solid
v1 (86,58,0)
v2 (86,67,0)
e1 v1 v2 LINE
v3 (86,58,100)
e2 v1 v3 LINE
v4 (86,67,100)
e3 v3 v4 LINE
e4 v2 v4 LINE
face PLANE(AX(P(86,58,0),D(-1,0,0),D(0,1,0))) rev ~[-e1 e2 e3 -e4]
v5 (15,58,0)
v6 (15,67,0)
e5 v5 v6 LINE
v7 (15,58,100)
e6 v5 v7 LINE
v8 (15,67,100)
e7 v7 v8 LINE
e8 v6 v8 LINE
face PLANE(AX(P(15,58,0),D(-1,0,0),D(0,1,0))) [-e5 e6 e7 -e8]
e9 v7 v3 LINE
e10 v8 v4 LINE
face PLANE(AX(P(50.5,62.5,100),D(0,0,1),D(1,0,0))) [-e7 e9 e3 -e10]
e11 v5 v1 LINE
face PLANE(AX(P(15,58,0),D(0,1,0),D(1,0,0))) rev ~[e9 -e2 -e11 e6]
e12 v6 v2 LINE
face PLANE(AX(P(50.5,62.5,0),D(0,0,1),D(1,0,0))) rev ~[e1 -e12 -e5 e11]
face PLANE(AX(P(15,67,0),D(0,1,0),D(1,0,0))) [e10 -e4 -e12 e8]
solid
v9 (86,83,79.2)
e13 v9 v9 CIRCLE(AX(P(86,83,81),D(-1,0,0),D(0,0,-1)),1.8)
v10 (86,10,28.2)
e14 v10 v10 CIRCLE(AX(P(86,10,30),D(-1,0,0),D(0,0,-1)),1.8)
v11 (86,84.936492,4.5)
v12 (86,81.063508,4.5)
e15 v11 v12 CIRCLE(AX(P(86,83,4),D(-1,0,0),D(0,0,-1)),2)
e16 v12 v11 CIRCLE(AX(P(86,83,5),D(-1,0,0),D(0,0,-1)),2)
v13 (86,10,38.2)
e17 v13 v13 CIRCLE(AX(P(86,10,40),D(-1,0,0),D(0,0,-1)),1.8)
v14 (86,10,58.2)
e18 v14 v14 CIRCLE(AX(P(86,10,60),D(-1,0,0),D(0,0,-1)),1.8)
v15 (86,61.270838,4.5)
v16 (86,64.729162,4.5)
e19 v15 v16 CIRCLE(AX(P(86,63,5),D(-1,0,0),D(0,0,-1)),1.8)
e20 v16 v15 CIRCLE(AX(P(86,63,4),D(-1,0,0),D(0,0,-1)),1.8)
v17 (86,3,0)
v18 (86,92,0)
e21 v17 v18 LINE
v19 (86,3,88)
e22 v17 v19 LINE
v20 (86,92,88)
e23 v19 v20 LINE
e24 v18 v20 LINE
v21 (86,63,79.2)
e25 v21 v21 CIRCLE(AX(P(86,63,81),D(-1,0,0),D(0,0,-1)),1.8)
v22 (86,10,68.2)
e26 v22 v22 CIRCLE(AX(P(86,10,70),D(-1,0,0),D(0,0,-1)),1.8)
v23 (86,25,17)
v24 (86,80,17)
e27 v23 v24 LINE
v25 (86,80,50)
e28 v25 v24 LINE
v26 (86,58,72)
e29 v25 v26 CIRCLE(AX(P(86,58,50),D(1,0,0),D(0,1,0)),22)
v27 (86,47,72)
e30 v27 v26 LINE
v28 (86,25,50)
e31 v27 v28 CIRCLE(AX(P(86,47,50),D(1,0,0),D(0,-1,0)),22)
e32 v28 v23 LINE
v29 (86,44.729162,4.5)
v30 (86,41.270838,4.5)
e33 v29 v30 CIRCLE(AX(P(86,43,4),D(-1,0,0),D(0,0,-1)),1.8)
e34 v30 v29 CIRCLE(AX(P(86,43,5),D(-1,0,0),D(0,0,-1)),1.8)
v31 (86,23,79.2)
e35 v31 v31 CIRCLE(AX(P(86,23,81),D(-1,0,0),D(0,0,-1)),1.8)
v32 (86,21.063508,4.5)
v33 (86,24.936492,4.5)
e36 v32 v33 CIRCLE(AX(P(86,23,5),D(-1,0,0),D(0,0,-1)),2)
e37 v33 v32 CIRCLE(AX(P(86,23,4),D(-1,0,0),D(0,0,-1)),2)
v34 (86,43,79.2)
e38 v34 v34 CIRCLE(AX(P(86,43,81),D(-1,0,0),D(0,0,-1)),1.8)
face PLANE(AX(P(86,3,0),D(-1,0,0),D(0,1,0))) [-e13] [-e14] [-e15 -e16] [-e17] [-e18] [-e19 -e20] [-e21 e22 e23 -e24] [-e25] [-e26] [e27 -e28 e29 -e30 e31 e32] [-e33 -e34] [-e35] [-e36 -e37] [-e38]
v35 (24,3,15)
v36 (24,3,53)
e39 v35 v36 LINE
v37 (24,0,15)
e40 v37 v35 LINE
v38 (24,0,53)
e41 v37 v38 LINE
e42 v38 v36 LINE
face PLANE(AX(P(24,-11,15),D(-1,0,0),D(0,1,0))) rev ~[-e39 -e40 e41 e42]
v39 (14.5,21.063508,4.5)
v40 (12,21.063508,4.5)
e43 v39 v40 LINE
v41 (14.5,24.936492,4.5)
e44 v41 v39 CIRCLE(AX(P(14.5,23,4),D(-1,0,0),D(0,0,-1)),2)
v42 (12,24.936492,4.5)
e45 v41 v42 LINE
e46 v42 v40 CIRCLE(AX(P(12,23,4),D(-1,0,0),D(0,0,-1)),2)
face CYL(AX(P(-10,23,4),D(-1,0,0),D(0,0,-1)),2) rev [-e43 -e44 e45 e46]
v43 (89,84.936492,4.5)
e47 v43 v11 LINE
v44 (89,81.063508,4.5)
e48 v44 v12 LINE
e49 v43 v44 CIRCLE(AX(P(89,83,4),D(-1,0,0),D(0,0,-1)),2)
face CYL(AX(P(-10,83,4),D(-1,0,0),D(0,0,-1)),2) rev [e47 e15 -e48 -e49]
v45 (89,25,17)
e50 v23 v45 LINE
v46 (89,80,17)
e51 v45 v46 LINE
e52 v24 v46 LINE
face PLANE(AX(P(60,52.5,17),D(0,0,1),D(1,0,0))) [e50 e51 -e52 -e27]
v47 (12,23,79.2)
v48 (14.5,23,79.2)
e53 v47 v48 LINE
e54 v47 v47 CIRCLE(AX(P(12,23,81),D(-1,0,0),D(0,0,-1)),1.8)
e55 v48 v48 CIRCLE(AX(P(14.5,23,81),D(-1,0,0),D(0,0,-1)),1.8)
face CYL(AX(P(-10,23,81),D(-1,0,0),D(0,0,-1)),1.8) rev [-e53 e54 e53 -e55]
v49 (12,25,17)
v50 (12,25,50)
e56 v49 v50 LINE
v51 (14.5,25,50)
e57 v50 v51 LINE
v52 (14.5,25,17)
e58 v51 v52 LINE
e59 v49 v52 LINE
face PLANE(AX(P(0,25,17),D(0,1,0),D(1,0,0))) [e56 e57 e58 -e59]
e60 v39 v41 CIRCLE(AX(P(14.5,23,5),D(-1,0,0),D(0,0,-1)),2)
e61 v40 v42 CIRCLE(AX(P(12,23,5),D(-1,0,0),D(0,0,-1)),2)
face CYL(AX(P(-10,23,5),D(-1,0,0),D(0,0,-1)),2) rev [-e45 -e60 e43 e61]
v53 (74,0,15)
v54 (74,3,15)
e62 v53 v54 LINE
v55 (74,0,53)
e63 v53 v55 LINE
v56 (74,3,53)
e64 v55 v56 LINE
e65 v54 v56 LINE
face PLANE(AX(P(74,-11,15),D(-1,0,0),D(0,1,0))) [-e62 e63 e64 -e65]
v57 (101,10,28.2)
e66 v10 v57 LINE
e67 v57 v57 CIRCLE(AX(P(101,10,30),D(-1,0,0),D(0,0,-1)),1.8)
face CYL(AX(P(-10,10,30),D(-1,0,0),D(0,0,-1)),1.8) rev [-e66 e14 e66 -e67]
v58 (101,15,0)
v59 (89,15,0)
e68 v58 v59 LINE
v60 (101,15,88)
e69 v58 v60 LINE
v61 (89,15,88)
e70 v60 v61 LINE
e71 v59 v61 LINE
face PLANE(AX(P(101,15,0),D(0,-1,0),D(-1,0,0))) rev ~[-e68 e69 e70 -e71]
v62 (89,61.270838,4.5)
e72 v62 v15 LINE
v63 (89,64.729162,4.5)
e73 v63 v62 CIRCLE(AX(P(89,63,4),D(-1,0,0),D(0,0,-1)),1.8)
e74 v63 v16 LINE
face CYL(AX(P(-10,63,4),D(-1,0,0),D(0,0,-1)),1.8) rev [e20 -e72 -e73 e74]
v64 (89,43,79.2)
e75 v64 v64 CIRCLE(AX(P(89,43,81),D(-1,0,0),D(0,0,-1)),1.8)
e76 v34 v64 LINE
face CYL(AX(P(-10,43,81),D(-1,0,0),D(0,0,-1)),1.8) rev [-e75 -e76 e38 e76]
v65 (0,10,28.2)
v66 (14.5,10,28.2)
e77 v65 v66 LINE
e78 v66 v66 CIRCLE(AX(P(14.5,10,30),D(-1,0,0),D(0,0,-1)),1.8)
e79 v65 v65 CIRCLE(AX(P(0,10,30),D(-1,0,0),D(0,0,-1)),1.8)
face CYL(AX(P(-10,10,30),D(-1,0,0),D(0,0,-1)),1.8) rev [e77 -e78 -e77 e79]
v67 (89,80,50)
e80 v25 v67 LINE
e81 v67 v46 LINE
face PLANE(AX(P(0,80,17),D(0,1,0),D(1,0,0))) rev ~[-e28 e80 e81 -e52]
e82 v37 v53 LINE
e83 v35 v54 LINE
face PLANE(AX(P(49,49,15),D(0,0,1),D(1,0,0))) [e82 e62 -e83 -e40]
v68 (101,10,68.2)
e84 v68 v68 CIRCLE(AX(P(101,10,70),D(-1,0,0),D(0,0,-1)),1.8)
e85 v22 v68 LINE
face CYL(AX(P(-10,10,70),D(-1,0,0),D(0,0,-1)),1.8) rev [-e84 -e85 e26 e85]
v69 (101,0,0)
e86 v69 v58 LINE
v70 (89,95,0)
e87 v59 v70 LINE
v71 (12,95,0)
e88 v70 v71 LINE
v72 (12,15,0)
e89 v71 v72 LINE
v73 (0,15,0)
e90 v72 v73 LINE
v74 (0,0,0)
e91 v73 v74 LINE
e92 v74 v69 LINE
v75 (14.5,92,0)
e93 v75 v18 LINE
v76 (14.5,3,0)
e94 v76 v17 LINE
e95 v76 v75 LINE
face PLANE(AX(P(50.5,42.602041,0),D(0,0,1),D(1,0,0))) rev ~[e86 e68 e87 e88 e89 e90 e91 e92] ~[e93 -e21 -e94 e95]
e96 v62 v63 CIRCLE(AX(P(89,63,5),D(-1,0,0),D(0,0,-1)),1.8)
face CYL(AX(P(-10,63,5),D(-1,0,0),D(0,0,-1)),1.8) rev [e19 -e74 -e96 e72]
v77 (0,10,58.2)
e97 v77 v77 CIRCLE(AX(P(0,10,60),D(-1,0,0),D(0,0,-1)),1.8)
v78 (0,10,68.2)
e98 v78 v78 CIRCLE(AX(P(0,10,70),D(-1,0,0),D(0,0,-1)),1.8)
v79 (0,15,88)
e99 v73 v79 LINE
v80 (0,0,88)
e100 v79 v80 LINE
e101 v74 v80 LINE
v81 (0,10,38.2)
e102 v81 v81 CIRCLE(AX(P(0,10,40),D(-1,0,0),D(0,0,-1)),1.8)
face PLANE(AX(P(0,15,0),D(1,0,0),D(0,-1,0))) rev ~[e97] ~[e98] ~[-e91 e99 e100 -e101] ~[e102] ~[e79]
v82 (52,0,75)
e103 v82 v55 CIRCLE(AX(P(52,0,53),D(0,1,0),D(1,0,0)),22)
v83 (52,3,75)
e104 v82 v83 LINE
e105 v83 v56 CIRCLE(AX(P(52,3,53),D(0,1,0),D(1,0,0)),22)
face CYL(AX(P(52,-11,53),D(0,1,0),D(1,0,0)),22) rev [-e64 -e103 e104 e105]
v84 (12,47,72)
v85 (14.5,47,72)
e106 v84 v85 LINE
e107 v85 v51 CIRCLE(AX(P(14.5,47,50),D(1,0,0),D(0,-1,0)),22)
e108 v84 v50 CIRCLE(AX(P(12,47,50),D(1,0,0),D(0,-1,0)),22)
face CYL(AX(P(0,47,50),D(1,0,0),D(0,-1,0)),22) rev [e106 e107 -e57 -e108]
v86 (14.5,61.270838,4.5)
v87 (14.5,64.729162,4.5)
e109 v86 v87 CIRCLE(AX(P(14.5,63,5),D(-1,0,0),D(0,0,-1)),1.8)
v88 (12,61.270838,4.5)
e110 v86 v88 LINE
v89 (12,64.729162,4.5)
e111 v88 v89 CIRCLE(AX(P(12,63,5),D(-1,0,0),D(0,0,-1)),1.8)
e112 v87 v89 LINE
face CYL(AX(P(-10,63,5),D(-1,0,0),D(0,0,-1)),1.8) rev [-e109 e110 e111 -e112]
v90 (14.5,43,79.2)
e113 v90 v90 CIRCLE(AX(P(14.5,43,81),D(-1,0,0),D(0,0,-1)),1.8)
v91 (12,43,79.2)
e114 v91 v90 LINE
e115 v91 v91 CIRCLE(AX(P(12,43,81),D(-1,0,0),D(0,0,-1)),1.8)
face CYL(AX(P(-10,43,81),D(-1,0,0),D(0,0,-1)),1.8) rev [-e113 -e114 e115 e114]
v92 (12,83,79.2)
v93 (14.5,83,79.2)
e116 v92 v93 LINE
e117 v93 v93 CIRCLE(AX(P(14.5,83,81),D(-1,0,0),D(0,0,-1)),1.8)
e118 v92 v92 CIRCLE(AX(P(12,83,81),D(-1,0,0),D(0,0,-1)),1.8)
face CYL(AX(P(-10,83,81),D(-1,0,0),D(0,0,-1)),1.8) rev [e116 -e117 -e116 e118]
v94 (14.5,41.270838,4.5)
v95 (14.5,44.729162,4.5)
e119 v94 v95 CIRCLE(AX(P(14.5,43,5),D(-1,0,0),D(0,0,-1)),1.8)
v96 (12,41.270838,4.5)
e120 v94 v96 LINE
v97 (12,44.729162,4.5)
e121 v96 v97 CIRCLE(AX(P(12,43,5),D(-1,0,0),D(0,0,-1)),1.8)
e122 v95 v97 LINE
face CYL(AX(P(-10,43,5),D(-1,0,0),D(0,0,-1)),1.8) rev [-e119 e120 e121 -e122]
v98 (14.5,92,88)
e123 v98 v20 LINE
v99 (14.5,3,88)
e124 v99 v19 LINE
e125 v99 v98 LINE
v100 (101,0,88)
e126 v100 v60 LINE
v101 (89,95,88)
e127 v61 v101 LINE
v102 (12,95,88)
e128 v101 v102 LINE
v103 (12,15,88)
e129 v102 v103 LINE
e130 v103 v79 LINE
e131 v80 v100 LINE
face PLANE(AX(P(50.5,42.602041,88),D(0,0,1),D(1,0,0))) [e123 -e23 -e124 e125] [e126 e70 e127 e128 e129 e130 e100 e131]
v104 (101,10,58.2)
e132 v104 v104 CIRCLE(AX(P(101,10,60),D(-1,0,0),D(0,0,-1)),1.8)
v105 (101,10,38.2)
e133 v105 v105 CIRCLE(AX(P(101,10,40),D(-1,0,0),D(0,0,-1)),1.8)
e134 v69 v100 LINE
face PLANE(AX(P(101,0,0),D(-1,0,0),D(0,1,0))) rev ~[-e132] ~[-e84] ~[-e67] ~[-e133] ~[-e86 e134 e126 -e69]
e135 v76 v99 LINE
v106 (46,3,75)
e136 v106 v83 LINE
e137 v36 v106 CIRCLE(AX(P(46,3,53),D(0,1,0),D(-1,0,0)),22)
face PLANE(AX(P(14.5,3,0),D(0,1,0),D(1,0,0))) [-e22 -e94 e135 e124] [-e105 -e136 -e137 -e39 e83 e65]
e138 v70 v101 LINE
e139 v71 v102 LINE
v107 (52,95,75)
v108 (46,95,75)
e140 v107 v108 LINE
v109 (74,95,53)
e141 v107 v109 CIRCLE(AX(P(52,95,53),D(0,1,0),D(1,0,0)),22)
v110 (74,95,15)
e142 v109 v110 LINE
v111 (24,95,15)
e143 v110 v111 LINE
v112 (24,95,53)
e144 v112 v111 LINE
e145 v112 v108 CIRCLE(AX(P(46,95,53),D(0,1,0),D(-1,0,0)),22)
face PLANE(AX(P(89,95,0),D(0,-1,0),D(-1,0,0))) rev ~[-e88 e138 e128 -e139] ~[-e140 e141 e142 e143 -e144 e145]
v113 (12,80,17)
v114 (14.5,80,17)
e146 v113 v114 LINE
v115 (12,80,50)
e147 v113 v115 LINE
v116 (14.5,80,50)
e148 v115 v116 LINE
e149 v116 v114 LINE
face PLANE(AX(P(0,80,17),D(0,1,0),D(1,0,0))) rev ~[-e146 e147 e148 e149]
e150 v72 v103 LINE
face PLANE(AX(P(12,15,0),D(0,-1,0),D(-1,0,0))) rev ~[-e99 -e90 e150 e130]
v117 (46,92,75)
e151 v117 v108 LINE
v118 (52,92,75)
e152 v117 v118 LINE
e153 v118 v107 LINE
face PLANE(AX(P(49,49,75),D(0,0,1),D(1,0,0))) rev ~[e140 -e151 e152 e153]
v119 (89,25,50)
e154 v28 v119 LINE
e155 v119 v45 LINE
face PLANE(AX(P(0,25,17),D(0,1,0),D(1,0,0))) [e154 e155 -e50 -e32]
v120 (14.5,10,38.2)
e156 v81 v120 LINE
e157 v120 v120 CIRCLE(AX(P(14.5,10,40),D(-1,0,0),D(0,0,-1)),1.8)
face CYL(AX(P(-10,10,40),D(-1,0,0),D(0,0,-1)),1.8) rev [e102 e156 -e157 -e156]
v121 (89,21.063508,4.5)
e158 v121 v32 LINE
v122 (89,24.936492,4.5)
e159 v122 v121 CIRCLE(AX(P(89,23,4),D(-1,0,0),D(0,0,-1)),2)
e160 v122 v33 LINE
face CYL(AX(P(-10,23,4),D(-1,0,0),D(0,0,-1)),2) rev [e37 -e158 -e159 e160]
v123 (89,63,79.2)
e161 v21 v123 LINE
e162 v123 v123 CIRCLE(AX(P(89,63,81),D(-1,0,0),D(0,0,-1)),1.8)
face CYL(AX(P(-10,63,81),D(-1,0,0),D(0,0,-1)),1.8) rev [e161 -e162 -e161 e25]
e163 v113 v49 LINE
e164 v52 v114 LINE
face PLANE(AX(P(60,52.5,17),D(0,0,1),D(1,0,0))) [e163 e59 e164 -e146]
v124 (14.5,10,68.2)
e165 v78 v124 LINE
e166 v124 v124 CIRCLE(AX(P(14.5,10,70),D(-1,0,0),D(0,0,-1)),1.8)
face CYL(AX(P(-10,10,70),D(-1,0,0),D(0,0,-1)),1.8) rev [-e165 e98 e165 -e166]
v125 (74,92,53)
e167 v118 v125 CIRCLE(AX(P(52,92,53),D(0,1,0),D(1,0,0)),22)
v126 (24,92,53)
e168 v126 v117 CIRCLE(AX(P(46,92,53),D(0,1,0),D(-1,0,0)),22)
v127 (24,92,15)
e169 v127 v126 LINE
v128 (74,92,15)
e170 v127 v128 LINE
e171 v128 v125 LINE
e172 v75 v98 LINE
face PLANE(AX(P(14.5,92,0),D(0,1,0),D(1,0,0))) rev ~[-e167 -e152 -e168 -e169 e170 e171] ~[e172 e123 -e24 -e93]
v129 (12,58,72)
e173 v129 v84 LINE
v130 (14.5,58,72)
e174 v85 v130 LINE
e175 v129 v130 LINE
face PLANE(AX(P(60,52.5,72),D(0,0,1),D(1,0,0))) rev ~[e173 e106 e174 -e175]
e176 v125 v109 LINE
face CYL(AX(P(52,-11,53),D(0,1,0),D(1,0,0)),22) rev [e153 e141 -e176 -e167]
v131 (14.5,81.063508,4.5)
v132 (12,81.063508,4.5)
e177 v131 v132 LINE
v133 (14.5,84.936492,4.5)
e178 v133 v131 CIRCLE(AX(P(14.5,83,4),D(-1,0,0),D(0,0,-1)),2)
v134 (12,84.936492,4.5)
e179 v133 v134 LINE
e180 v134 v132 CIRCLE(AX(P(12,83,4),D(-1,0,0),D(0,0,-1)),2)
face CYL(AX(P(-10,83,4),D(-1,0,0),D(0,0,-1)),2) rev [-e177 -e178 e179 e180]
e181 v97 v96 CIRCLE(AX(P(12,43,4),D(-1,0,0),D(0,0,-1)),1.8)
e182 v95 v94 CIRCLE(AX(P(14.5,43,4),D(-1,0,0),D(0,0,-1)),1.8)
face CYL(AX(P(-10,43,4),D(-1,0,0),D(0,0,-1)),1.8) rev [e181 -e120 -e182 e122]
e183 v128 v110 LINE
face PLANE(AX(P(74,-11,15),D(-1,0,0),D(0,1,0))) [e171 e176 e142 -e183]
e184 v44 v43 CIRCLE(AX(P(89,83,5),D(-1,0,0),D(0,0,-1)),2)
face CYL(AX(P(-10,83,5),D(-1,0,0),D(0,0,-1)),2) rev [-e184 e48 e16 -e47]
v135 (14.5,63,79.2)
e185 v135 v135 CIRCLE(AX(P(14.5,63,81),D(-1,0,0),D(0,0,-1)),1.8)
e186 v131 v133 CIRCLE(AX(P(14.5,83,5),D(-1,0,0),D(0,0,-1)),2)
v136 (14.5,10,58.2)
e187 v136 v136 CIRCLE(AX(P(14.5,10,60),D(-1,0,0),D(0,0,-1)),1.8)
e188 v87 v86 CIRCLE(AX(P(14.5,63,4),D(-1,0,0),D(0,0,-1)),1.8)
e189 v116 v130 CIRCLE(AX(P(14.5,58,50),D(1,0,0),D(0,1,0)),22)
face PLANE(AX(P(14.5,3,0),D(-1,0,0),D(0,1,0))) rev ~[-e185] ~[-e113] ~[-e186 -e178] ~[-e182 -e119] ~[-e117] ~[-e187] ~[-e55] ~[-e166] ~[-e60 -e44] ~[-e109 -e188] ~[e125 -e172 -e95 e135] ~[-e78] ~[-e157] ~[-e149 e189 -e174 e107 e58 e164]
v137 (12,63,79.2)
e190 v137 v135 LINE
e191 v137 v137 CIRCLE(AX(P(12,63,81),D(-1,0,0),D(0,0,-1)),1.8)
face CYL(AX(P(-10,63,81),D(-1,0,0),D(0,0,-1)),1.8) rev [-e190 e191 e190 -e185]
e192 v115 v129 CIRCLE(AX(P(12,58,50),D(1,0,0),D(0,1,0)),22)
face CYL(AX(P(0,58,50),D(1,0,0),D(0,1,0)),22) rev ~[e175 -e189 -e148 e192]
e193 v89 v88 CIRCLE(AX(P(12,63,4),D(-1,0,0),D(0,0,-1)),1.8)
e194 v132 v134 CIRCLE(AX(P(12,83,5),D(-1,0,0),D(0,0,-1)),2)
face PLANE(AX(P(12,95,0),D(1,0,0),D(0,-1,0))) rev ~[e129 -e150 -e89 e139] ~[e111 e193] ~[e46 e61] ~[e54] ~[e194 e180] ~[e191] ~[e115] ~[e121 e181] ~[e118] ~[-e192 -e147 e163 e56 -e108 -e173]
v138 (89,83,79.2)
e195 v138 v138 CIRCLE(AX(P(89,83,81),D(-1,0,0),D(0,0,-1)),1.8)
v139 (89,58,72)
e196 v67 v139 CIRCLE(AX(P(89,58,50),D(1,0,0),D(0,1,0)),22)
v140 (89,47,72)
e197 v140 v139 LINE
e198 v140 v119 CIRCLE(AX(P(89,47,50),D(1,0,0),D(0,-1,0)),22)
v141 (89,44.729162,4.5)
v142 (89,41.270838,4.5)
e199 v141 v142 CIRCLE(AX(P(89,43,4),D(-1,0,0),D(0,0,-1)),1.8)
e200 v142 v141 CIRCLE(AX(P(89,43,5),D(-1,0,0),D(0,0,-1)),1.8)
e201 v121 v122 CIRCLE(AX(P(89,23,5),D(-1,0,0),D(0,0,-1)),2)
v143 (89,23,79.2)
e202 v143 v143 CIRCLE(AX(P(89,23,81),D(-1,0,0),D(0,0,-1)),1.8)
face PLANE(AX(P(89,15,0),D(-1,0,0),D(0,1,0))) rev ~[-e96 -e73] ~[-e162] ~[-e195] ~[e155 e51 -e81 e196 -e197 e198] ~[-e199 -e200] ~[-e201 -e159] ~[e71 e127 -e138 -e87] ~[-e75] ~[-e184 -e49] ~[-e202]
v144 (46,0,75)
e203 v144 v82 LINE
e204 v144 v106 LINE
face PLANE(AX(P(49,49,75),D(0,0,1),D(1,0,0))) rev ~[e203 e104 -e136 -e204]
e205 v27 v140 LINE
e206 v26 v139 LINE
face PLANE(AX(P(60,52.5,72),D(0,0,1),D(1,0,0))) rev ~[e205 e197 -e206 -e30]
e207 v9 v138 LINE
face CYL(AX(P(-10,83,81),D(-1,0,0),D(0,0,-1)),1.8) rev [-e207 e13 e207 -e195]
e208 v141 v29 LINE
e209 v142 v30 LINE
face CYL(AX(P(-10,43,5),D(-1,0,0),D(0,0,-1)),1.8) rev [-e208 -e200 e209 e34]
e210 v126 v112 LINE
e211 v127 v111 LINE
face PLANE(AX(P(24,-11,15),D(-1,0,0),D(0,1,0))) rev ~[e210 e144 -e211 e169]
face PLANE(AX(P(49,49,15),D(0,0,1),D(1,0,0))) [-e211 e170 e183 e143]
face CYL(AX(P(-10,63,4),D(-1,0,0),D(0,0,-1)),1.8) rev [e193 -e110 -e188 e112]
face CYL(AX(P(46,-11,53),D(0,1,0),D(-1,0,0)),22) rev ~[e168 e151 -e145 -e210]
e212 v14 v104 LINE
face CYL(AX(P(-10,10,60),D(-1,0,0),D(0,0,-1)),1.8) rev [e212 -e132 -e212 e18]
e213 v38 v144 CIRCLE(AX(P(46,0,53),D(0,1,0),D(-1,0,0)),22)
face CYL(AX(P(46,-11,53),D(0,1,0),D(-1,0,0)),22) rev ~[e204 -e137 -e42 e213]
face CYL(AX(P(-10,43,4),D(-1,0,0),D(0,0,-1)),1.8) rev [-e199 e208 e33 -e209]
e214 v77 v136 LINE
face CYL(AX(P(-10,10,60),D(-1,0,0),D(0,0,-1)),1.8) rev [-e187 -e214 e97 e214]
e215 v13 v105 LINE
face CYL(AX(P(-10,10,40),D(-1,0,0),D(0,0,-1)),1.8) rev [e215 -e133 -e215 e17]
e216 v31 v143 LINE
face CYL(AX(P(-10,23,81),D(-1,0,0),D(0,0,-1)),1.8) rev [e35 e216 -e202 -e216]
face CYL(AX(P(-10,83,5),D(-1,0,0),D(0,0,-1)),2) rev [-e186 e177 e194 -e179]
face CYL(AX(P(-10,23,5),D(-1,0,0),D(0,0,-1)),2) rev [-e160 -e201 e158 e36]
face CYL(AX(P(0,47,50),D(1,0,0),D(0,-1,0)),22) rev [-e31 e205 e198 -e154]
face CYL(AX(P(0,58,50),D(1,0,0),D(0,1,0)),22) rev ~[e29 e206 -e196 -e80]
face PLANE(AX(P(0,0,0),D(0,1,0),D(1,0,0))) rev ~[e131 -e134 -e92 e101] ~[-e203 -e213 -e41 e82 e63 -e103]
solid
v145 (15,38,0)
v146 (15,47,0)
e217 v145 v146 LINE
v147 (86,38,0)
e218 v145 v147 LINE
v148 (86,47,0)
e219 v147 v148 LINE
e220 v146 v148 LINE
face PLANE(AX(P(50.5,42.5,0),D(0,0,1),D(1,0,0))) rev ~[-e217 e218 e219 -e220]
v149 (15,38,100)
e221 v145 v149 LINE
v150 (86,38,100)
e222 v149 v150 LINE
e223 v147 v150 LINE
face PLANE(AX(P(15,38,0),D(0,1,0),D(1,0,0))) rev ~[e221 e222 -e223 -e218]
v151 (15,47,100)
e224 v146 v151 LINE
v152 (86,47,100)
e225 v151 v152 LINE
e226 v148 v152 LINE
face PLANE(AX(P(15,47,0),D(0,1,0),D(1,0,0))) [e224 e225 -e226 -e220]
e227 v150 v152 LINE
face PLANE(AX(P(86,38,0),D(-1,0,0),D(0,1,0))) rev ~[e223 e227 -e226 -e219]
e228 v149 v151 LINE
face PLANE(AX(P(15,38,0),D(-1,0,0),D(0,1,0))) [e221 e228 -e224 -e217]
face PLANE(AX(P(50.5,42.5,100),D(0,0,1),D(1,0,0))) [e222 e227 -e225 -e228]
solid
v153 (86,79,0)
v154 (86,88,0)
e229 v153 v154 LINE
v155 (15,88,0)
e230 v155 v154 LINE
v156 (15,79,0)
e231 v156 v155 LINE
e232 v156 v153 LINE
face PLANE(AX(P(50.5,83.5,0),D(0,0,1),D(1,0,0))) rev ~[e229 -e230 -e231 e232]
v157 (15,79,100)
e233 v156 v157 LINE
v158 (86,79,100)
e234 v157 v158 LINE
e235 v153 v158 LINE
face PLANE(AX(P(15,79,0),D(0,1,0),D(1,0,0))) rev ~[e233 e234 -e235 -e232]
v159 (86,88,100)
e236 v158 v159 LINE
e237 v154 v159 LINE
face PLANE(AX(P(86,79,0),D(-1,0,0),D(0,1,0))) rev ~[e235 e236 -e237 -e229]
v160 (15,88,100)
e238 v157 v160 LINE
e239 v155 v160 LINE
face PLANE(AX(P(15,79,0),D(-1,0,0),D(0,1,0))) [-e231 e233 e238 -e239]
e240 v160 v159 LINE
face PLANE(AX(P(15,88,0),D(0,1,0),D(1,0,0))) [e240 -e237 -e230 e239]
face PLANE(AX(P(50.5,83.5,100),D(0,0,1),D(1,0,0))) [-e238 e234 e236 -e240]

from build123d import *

# Parameters (mm, degrees)
BOX_W             = 71
BOX_H             = 9
BOX_DEPTH         = 100
BOX001_W          = 71
BOX001_H          = 9
BOX001_DEPTH      = 100
BOX002_W          = 71
BOX002_H          = 9
BOX002_DEPTH      = 100
CYLINDER009_R     = 1.8
CYLINDER009_DEPTH = 120
CYLINDER007_R     = 1.8
CYLINDER007_DEPTH = 120
CYLINDER008_R     = 1.8
CYLINDER008_DEPTH = 120
CYLINDER006_R     = 1.8
CYLINDER006_DEPTH = 120
CYLINDER005_R     = 1.8
CYLINDER005_DEPTH = 120
CYLINDER010_R     = 2
CYLINDER010_DEPTH = 120
CYLINDER011_R     = 1.8
CYLINDER011_DEPTH = 120
CYLINDER012_R     = 2
CYLINDER012_DEPTH = 120
CYLINDER013_R     = 1.8
CYLINDER013_DEPTH = 120
CYLINDER014_R     = 1.8
CYLINDER014_DEPTH = 120
CYLINDER015_R     = 2
CYLINDER015_DEPTH = 120
CYLINDER004_R     = 2
CYLINDER004_DEPTH = 120
BOX004_W          = 50
BOX004_H          = 120
BOX004_DEPTH      = 60
FILLET_R          = 22
BOX003_W          = 120
BOX003_H          = 55
BOX003_DEPTH      = 55
FILLET001_R       = 22
CYLINDER002_R     = 1.8
CYLINDER002_DEPTH = 120
CYLINDER001_R     = 1.8
CYLINDER001_DEPTH = 120
CYLINDER003_R     = 1.8
CYLINDER003_DEPTH = 120
CYLINDER_R        = 1.8
CYLINDER_DEPTH    = 120
SKETCH_W          = 71.5
SKETCH_H          = 89
EXTRUDE_DEPTH     = 88


with BuildPart() as cube:
    # Box → Box (new body)
    with BuildSketch(Plane(origin=(15, 38, 0), x_dir=(1, 0, 0), z_dir=(0, 0, 1))):
        with Locations((35.5, 4.5)):
            Rectangle(BOX_W, BOX_H)
    extrude(amount=BOX_DEPTH)


with BuildPart() as cube001:
    # Box001 → Box001 (new body)
    with BuildSketch(Plane(origin=(15, 79, 0), x_dir=(1, 0, 0), z_dir=(0, 0, 1))):
        with Locations((35.5, 4.5)):
            Rectangle(BOX001_W, BOX001_H)
    extrude(amount=BOX001_DEPTH)


with BuildPart() as cube002:
    # Box002 → Box002 (new body)
    with BuildSketch(Plane(origin=(15, 58, 0), x_dir=(1, 0, 0), z_dir=(0, 0, 1))):
        with Locations((35.5, 4.5)):
            Rectangle(BOX002_W, BOX002_H)
    extrude(amount=BOX002_DEPTH)


with BuildPart() as bcylinder009:
    # Cylinder009 → Cylinder009 (new body)
    with BuildSketch(Plane(origin=(-10, 63, 81), x_dir=(0, 0, -1), z_dir=(1, 0, 0))):
        Circle(CYLINDER009_R)
    extrude(amount=CYLINDER009_DEPTH)


with BuildPart() as bcylinder007:
    # Cylinder007 → Cylinder007 (new body)
    with BuildSketch(Plane(origin=(-10, 83, 81), x_dir=(0, 0, -1), z_dir=(1, 0, 0))):
        Circle(CYLINDER007_R)
    extrude(amount=CYLINDER007_DEPTH)


with BuildPart() as bcylinder008:
    # Cylinder008 → Cylinder008 (new body)
    with BuildSketch(Plane(origin=(-10, 43, 81), x_dir=(0, 0, -1), z_dir=(1, 0, 0))):
        Circle(CYLINDER008_R)
    extrude(amount=CYLINDER008_DEPTH)


with BuildPart() as bcylinder006:
    # Cylinder006 → Cylinder006 (new body)
    with BuildSketch(Plane(origin=(-10, 43, 5), x_dir=(0, 0, -1), z_dir=(1, 0, 0))):
        Circle(CYLINDER006_R)
    extrude(amount=CYLINDER006_DEPTH)


with BuildPart() as bcylinder005:
    # Cylinder005 → Cylinder005 (new body)
    with BuildSketch(Plane(origin=(-10, 63, 5), x_dir=(0, 0, -1), z_dir=(1, 0, 0))):
        Circle(CYLINDER005_R)
    extrude(amount=CYLINDER005_DEPTH)


with BuildPart() as bcylinder010:
    # Cylinder010 → Cylinder010 (new body)
    with BuildSketch(Plane(origin=(-10, 23, 5), x_dir=(0, 0, -1), z_dir=(1, 0, 0))):
        Circle(CYLINDER010_R)
    extrude(amount=CYLINDER010_DEPTH)


with BuildPart() as bcylinder011:
    # Cylinder011 → Cylinder011 (new body)
    with BuildSketch(Plane(origin=(-10, 23, 81), x_dir=(0, 0, -1), z_dir=(1, 0, 0))):
        Circle(CYLINDER011_R)
    extrude(amount=CYLINDER011_DEPTH)


with BuildPart() as bcylinder012:
    # Cylinder012 → Cylinder012 (new body)
    with BuildSketch(Plane(origin=(-10, 83, 4), x_dir=(0, 0, -1), z_dir=(1, 0, 0))):
        Circle(CYLINDER012_R)
    extrude(amount=CYLINDER012_DEPTH)


with BuildPart() as bcylinder013:
    # Cylinder013 → Cylinder013 (new body)
    with BuildSketch(Plane(origin=(-10, 43, 4), x_dir=(0, 0, -1), z_dir=(1, 0, 0))):
        Circle(CYLINDER013_R)
    extrude(amount=CYLINDER013_DEPTH)


with BuildPart() as bcylinder014:
    # Cylinder014 → Cylinder014 (new body)
    with BuildSketch(Plane(origin=(-10, 63, 4), x_dir=(0, 0, -1), z_dir=(1, 0, 0))):
        Circle(CYLINDER014_R)
    extrude(amount=CYLINDER014_DEPTH)


with BuildPart() as bcylinder015:
    # Cylinder015 → Cylinder015 (new body)
    with BuildSketch(Plane(origin=(-10, 23, 4), x_dir=(0, 0, -1), z_dir=(1, 0, 0))):
        Circle(CYLINDER015_R)
    extrude(amount=CYLINDER015_DEPTH)


with BuildPart() as fusion001:
    # Cylinder004 → Cylinder004 (new body)
    with BuildSketch(Plane(origin=(-10, 83, 5), x_dir=(0, 0, -1), z_dir=(1, 0, 0))):
        Circle(CYLINDER004_R)
    extrude(amount=CYLINDER004_DEPTH)

    # Fusion001: union BCylinder009, BCylinder007, BCylinder008, BCylinder006, BCylinder005, BCylinder010, BCylinder011, BCylinder012, BCylinder013, BCylinder014, BCylinder015
    add(bcylinder009.part)
    add(bcylinder007.part)
    add(bcylinder008.part)
    add(bcylinder006.part)
    add(bcylinder005.part)
    add(bcylinder010.part)
    add(bcylinder011.part)
    add(bcylinder012.part)
    add(bcylinder013.part)
    add(bcylinder014.part)
    add(bcylinder015.part)


with BuildPart() as fillet_body:
    # Box004 → Box004 (new body)
    with BuildSketch(Plane(origin=(24, -11, 15), x_dir=(1, 0, 0), z_dir=(0, 0, 1))):
        with Locations((25, 60)):
            Rectangle(BOX004_W, BOX004_H)
    extrude(amount=BOX004_DEPTH)

    # Fillet
    fillet_edges = [fillet_body.edges().sort_by_distance(p)[0] for p in [
        (24, 49, 75),
        (74, 49, 75),
    ]]
    fillet(fillet_edges, radius=FILLET_R)


with BuildPart() as fillet001:
    # Box003 → Box003 (new body)
    with BuildSketch(Plane(origin=(0, 25, 17), x_dir=(1, 0, 0), z_dir=(0, 0, 1))):
        with Locations((60, 27.5)):
            Rectangle(BOX003_W, BOX003_H)
    extrude(amount=BOX003_DEPTH)

    # Fillet001
    fillet001_edges = [fillet001.edges().sort_by_distance(p)[0] for p in [
        (60, 25, 72),
        (60, 80, 72),
    ]]
    fillet(fillet001_edges, radius=FILLET001_R)


with BuildPart() as acylinder002:
    # Cylinder002 → Cylinder002 (new body)
    with BuildSketch(Plane(origin=(-10, 10, 40), x_dir=(0, 0, -1), z_dir=(1, 0, 0))):
        Circle(CYLINDER002_R)
    extrude(amount=CYLINDER002_DEPTH)


with BuildPart() as acylinder001:
    # Cylinder001 → Cylinder001 (new body)
    with BuildSketch(Plane(origin=(-10, 10, 30), x_dir=(0, 0, -1), z_dir=(1, 0, 0))):
        Circle(CYLINDER001_R)
    extrude(amount=CYLINDER001_DEPTH)


with BuildPart() as acylinder003:
    # Cylinder003 → Cylinder003 (new body)
    with BuildSketch(Plane(origin=(-10, 10, 70), x_dir=(0, 0, -1), z_dir=(1, 0, 0))):
        Circle(CYLINDER003_R)
    extrude(amount=CYLINDER003_DEPTH)


with BuildPart() as fusion002:
    # Cylinder → Cylinder (new body)
    with BuildSketch(Plane(origin=(-10, 10, 60), x_dir=(0, 0, -1), z_dir=(1, 0, 0))):
        Circle(CYLINDER_R)
    extrude(amount=CYLINDER_DEPTH)

    # Fusion: union ACylinder002, ACylinder001, ACylinder003
    add(acylinder002.part)
    add(acylinder001.part)
    add(acylinder003.part)

    # Fusion002: union Fusion001, Fillet body, Fillet001
    add(fusion001.part)
    add(fillet_body.part)
    add(fillet001.part)


with BuildPart() as cut:
    # Sketch → Extrude (new body)
    with BuildSketch(Plane.XY):
        Polygon((0, 0), (101, 0), (101, 15), (89, 15), (89, 95), (12, 95), (12, 15), (0, 15), align=None)
        with Locations((50.25, 47.5)):
            Rectangle(SKETCH_W, SKETCH_H, mode=Mode.SUBTRACT)
    extrude(amount=EXTRUDE_DEPTH)

    # Cut: cut Fusion002
    add(fusion002.part, mode=Mode.SUBTRACT)


solid = Compound([cube.part, cube001.part, cube002.part, cut.part])
